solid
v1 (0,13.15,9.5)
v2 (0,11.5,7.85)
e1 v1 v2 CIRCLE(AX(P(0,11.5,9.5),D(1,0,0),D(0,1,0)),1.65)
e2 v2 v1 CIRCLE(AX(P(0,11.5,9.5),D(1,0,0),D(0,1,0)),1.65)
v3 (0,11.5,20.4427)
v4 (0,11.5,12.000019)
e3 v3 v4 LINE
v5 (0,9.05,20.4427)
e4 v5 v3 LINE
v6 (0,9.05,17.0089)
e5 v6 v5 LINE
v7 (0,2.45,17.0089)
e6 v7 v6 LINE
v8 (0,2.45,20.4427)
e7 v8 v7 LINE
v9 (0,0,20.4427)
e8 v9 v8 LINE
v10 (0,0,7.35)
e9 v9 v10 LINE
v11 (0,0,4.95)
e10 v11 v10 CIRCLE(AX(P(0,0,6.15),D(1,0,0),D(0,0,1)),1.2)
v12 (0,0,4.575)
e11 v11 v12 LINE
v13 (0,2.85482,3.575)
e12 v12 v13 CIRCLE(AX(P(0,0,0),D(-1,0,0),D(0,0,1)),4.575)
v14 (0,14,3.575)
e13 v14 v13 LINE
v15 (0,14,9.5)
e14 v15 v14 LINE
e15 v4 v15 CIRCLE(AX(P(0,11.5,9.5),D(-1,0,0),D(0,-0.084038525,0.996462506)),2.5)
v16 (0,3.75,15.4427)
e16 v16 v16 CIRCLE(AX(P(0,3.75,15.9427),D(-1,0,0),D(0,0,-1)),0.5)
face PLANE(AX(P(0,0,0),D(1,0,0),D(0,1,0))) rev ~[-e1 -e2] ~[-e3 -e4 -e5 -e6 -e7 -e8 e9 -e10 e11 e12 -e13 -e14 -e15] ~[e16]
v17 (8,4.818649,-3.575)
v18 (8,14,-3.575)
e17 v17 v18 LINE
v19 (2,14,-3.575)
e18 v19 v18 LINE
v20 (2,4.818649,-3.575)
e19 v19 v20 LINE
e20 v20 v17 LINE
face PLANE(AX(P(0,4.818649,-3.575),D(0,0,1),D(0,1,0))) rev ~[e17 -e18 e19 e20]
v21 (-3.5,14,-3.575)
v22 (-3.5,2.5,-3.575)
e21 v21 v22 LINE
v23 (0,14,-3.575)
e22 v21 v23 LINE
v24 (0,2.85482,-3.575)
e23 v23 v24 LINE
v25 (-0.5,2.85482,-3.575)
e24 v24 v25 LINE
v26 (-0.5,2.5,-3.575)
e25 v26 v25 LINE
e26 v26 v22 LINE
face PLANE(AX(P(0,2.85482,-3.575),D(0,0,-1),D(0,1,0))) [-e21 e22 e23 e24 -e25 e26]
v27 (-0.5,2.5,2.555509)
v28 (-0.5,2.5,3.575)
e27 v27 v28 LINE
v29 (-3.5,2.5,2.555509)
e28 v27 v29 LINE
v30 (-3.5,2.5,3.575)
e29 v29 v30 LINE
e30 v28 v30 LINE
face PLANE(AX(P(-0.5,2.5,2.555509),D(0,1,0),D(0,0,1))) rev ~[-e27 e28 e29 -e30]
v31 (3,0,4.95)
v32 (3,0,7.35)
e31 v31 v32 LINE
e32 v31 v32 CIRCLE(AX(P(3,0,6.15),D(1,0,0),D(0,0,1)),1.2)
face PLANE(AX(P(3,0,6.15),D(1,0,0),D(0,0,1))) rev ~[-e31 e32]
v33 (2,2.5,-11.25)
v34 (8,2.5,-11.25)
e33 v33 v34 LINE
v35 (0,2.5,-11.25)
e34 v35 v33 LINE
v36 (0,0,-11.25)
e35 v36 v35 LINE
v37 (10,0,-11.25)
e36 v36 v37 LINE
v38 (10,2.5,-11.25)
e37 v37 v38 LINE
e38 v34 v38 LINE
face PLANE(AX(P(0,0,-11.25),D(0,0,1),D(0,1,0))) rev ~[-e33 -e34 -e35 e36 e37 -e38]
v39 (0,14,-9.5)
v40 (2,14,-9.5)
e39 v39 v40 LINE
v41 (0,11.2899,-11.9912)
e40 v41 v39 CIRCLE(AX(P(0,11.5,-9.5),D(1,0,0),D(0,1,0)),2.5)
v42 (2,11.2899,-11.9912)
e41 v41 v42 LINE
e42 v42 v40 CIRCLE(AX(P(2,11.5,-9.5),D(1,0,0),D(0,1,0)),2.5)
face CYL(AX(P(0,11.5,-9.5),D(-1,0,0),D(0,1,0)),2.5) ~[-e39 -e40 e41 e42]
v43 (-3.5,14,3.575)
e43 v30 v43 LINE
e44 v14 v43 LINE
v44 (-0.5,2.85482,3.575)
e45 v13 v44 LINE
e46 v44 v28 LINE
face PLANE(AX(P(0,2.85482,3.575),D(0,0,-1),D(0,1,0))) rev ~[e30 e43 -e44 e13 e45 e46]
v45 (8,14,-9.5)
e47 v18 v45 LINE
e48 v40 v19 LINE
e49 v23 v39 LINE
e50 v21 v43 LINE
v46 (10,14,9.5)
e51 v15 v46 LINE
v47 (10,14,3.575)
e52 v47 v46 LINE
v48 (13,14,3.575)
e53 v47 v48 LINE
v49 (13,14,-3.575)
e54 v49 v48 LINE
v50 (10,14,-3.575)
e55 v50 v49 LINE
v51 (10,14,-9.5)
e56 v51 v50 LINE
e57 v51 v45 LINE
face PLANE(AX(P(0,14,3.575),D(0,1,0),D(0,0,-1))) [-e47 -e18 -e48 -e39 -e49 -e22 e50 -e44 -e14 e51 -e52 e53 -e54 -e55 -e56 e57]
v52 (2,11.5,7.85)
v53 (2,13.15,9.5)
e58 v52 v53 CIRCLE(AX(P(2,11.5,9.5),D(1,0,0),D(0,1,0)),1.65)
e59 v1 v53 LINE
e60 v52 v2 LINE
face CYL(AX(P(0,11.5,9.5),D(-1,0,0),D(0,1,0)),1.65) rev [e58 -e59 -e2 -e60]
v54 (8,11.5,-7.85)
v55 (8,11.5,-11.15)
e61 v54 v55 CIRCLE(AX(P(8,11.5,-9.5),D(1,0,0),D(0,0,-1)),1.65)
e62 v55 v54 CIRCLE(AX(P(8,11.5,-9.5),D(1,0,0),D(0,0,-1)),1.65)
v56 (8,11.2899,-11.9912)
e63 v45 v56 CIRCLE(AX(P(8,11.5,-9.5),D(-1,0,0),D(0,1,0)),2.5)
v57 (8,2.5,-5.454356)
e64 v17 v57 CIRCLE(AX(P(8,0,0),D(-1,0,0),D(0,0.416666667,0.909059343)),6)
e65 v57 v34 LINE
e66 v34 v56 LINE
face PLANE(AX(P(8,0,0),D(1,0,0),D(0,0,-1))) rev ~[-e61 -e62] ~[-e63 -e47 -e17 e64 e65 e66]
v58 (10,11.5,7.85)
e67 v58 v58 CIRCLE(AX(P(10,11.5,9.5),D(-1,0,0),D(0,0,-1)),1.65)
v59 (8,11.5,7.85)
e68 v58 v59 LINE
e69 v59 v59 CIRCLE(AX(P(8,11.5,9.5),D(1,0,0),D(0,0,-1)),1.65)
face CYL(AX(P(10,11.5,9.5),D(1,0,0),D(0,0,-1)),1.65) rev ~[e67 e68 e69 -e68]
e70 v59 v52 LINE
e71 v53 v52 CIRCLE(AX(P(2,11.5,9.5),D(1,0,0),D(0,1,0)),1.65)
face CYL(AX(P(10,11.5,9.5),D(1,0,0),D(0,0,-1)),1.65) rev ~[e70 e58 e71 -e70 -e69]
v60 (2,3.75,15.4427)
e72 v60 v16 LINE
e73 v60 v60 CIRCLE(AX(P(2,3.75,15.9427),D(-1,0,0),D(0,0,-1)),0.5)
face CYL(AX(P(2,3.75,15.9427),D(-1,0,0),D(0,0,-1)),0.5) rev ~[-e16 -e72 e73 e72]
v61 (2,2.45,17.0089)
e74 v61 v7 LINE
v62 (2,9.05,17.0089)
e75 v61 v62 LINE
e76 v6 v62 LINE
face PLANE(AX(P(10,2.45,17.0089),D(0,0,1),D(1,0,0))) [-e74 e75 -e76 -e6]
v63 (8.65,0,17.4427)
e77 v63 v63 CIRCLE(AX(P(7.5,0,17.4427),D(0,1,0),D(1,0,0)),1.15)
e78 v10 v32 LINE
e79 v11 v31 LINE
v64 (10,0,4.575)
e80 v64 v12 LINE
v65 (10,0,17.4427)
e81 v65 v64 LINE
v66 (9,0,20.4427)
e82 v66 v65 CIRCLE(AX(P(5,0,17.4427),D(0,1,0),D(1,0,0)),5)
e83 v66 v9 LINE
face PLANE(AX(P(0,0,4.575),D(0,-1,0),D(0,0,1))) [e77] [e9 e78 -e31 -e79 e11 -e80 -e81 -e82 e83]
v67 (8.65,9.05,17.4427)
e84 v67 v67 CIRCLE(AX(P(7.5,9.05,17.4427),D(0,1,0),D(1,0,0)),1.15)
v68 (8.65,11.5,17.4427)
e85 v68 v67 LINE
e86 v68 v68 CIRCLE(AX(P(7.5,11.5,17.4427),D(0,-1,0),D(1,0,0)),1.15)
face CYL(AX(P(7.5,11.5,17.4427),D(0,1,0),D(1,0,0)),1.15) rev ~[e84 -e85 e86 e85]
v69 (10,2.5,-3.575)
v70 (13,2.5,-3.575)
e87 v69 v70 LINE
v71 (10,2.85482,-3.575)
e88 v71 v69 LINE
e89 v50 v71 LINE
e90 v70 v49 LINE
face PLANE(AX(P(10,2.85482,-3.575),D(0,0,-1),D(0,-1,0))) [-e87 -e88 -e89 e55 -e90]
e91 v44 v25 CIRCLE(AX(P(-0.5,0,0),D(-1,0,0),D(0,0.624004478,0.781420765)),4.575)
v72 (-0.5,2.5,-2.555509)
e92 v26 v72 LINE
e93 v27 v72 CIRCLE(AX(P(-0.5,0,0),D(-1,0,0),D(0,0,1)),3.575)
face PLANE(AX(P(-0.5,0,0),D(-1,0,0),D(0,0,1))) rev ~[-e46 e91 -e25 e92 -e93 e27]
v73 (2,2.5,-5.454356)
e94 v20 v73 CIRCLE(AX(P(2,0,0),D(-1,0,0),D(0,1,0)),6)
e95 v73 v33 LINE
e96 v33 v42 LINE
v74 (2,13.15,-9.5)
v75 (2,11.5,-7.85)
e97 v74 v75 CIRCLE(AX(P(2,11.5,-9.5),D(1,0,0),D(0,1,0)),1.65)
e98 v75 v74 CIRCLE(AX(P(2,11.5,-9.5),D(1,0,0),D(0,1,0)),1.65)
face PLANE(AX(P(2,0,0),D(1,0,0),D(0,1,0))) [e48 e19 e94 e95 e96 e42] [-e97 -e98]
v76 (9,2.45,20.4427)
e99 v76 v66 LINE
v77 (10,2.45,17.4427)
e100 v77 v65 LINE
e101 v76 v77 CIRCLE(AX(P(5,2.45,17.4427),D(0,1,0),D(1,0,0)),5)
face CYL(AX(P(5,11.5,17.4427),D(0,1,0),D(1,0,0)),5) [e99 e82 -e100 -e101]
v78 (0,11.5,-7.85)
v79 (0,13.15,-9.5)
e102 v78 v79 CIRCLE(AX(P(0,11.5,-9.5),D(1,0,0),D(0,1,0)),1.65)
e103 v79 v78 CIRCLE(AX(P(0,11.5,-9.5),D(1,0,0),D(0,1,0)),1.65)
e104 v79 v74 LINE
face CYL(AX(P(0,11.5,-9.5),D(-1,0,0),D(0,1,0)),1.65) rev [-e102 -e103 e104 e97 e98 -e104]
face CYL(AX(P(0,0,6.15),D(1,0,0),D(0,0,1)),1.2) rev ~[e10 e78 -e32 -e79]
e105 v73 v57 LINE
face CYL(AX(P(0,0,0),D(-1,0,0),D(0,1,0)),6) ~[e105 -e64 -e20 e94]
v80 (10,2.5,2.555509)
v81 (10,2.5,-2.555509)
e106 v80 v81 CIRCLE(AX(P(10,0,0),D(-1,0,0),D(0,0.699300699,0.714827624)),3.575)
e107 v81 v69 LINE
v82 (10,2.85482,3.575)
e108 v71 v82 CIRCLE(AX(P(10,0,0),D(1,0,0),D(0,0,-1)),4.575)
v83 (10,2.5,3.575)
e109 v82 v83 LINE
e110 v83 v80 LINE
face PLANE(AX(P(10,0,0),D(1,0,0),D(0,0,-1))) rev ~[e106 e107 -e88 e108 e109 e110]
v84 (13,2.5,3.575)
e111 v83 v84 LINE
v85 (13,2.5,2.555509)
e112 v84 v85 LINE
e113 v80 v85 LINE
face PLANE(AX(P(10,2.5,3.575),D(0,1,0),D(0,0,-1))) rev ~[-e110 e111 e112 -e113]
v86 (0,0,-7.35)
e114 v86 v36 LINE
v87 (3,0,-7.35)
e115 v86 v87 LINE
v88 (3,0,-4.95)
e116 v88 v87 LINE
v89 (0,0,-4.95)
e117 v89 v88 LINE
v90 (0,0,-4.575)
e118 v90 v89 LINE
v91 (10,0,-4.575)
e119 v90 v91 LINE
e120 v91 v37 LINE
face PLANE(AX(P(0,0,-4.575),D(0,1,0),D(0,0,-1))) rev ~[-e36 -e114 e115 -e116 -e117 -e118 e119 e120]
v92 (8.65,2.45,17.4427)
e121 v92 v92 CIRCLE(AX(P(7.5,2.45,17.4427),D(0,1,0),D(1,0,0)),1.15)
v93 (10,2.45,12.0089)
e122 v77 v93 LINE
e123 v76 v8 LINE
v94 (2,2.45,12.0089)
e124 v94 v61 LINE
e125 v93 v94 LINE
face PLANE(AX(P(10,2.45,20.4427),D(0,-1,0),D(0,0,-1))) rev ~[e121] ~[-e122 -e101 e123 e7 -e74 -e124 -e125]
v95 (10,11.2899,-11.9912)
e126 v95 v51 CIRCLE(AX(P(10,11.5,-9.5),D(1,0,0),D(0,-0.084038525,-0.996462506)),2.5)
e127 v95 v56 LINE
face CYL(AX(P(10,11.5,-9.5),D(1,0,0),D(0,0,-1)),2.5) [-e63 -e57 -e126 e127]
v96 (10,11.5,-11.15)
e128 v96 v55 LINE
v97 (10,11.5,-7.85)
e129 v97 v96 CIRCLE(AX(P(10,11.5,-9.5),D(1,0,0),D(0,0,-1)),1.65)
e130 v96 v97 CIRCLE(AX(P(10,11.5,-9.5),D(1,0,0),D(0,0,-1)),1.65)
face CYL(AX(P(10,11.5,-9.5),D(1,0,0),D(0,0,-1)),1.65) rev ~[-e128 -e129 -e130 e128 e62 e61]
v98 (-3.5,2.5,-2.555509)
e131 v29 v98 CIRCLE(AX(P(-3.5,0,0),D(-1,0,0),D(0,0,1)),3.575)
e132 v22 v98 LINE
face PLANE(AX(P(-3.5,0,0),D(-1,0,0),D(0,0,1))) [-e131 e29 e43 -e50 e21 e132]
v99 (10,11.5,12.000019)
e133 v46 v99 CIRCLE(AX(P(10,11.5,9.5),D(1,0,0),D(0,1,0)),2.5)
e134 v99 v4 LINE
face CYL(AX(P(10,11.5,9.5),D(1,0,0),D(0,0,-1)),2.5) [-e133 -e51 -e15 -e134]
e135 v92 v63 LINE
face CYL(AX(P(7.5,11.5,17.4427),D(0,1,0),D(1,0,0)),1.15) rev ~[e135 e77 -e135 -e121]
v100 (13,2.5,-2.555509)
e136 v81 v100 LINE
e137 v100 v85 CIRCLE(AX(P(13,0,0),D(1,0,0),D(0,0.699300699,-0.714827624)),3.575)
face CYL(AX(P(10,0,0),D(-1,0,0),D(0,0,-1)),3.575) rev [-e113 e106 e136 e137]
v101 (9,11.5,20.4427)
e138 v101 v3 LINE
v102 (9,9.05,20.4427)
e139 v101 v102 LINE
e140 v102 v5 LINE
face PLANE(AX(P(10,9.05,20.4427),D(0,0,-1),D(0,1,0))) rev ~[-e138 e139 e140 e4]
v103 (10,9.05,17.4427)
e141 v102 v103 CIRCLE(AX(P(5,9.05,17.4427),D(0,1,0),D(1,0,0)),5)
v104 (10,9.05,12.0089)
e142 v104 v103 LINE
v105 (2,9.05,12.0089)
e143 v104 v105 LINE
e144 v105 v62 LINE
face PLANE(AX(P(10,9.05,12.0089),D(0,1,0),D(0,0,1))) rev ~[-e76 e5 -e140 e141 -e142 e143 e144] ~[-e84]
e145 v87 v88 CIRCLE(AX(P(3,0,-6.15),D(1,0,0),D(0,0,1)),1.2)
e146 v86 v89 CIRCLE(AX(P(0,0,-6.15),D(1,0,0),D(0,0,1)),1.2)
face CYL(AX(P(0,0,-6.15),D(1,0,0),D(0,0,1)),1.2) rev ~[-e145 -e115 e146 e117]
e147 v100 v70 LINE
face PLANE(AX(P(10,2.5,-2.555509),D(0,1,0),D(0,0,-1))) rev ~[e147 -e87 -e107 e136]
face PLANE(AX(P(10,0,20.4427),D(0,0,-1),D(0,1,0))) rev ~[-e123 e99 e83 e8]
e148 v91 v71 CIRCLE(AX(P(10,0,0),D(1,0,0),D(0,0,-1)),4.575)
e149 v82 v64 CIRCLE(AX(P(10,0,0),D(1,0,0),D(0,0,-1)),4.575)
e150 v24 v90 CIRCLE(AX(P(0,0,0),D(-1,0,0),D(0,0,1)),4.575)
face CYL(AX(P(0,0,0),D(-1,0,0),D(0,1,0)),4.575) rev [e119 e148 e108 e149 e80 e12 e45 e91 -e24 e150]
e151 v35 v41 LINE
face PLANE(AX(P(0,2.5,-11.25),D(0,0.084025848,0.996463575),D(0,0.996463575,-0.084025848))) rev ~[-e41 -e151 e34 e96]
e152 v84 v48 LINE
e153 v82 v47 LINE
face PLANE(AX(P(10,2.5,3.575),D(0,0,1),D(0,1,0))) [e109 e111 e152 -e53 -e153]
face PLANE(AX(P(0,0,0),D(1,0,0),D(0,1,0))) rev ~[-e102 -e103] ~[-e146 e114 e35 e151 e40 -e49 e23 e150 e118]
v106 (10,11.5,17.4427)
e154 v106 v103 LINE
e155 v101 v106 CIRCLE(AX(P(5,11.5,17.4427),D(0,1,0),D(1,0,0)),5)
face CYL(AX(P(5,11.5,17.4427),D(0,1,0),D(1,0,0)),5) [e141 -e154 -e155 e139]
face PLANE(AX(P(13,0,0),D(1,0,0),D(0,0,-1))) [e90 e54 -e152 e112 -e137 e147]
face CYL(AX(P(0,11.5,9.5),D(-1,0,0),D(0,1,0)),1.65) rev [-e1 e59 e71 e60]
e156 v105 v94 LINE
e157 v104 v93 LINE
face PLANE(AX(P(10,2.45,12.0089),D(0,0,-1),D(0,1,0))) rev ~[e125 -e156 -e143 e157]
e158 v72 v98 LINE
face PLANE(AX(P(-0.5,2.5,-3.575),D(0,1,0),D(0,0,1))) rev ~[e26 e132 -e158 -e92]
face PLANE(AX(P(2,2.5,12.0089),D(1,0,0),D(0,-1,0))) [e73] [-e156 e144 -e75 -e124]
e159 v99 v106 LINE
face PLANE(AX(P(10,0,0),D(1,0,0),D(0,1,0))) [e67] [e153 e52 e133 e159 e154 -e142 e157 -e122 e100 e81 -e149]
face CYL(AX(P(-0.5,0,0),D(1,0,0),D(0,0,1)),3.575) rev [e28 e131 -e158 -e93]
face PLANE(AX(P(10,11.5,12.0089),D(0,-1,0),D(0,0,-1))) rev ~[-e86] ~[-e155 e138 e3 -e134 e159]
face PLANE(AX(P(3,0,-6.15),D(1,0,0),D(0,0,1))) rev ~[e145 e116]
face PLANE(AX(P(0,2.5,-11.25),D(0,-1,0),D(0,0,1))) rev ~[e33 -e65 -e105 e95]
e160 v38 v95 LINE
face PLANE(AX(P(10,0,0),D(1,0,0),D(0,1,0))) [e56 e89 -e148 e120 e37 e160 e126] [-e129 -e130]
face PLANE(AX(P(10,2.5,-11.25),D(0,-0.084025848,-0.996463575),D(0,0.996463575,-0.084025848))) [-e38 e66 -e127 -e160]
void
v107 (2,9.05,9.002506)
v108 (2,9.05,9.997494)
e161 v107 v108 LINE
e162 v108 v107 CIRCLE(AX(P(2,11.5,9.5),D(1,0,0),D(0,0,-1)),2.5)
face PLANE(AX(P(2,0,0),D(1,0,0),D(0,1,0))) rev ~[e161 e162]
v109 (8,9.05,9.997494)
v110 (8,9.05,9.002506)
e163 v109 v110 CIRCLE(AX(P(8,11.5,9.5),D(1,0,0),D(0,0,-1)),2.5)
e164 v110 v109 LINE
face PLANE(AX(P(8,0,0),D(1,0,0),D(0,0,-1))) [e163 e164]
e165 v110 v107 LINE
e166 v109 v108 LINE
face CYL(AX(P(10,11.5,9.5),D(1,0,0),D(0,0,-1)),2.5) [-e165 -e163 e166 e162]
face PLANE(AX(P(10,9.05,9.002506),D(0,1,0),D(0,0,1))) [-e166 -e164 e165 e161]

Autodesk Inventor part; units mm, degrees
ref_plane "YZ Plane" through (0, 0, 0) normal (1, 0, 0) x (0, 1, 0)
ref_plane "XZ Plane" through (0, 0, 0) normal (0, 1, 0) x (-1, 0, 0)
ref_plane "XY Plane" through (0, 0, 0) normal (0, 0, 1) x (1, 0, 0)
sketch "スケッチ1" plane through (0, 0, 0) normal (1, 0, 0) x (0, 1, 0)
  circle A0 centre (0, 0) radius 4.575
  circle A1 centre (0, 0) radius 3.575
  line L0 (0, 0) -> (0, 6)
  line L1 (0, 6) -> (0, -6)
  line L2 (0, 0) -> (11.5, 0)
  line L3 (11.5, 0) -> (11.5, 9.5)
  line L4 (11.5, 9.5) -> (11.5, -9.5)
  circle A2 centre (11.5, 9.5) radius 1.65
  circle A3 centre (11.5, -9.5) radius 1.65
  line L5 (0, 0) -> (0, 11.25)
  line L6 (0, 11.25) -> (0, -11.25)
  line L7 (-2.5, -11.25) -> (2.5, -11.25)
  line L8 (2.5, -11.25) -> (2.5, 11.25)
  line L9 (2.5, 11.25) -> (-2.5, 11.25)
  line L10 (-2.5, 11.25) -> (-2.5, -11.25)
  line L11 (-2.5, -11.25) -> (2.5, 11.25) construction
  line L12 (2.5, -11.25) -> (-2.5, 11.25) construction
  circle A4 centre (11.5, 9.5) radius 2.5
  circle A5 centre (11.5, -9.5) radius 2.5
  line L13 (2.5, 11.25) -> (11.2899, 11.9912)
  line L14 (2.5, -11.25) -> (11.2899, -11.9912)
  line L15 (14, 9.5) -> (14, -9.5)
  line L16 (0, -3.575) -> (14, -3.575)
  line L17 (0, 3.575) -> (14, 3.575)
  circle A6 centre (0, 0) radius 6
  line L18 (0, 0) -> (0, 6.15)
  line L19 (0, 6.15) -> (0, -6.15)
  circle A7 centre (0, 6.15) radius 1.25
  circle A8 centre (0, -6.15) radius 1.25
  line L20 (0, 11.25) -> (11.5, 11.25)
  line L21 (11.5, 11.25) -> (11.5, 12)
  line L22 (11.5, 12) -> (0, 12)
  line L23 (0, 12) -> (0, 11.25)
  point P0 (0, 4.575)
  point P1 (0, -4.575)
  point P2 (2.5, 3.575)
  point P3 (2.5, 2.5555)
  point P4 (2.5, -2.5555)
  point P5 (2.5, -3.575)
  point P6 (0, 7.4)
  point P7 (0, 4.9)
  point P8 (0, -4.9)
  point P9 (0, -7.4)
  point P10 (2.5, 5.4544)
  point P11 (2.5, -5.4544)
  point P12 (4.8186, 3.575)
  point P13 (4.8186, -3.575)
  point P14 (2.8548, 3.575)
  point P15 (2.8548, -3.575)
  dimension "d0" = 9.15
  dimension "d1" = 7.15
  dimension "d2" = 6
  dimension "d3" = 12
  dimension "d6" = 11.5
  dimension "d7" = 9.5
  dimension "d8" = 19
  dimension "d9" = 3.3
  dimension "d10" = 3.3
  dimension "d11" = 11.25
  dimension "d12" = 22.5
  dimension "d13" = 5
  dimension "d14" = 5
  dimension "d15" = 5
  dimension "d28" = 12
  dimension "d29" = 6.15
  dimension "d30" = 12.3
  dimension "d31" = 2.5
  dimension "d32" = 2.5
  dimension "d89" = 11.5
extrude "押し出し7" add sketch "スケッチ1" along normal blind 2 contours L2 A6 L16 A0 | A0 L17 A6 L2 | A0 L8 A6 L17 | L16 A6 L8 A0 | A6 L17 L3 L2 | L2 L4 L16 A6 | A0 L0 A7 A6 L8 | A6 L8 L20 A4 L3 L17 | L8 A6 A8 L1 A0 | L16 L4 A5 L14 L8 A6 | L3 L17 L15 L16 L4 | A6 A7 L5 L9 L8 | L3 A4 L15 L17 | L8 L7 L6 A8 A6 | L16 L15 A5 L4 | L13 A4 L20 | A4 L20 L21 | A5 | A4 L21 L20
extrude "押し出し8" add sketch "スケッチ1" along normal blind 10 contours L2 A6 L16 A0 | A0 L17 A6 L2 | A0 L8 A6 L17 | L16 A6 L8 A0 | A6 L17 L3 L2 | L2 L4 L16 A6 | A0 L0 A7 A6 L8 | L8 A6 A8 L1 A0 | L3 L17 L15 L16 L4 | A6 A7 L5 L9 L8 | L8 L7 L6 A8 A6 | L0 A6 A7 | A6 L5 A7 | A8 A6 L1 | A8 L6 A6 picked at (0.2292, 5.6392) picked at (0.3961, 6.4211) picked at (0.2292, -5.6392) picked at (0.3961, -6.4211)
sketch "スケッチ6" plane through (10, 0, 0) normal (1, 0, 0) x (0, 0, -1)
  line L0 (0, 0) -> (-6.15, 0)
  line L1 (-6.15, 0) -> (6.15, 0)
  circle A0 centre (-6.15, 0) radius 1.25
  circle A1 centre (6.15, 0) radius 1.25
  line L2 (-11.25, 2.5) -> (11.25, 2.5)
  line L3 (11.25, 2.5) -> (11.25, -2.5)
  line L4 (11.25, -2.5) -> (-11.25, -2.5)
  line L5 (-11.25, -2.5) -> (-11.25, 2.5)
  line L6 (-11.25, 2.5) -> (11.25, -2.5) construction
  line L7 (11.25, 2.5) -> (-11.25, -2.5) construction
  line L8 (0, 0) -> (0, 11.5)
  line L9 (0, 11.5) -> (-9.5, 11.5)
  line L10 (-9.5, 11.5) -> (9.5, 11.5)
  circle A2 centre (-9.5, 11.5) radius 1.65
  circle A3 centre (-9.5, 11.5) radius 2.5
  circle A4 centre (9.5, 11.5) radius 1.65
  circle A5 centre (9.5, 11.5) radius 2.5
  circle A6 centre (0, 0) radius 6
  circle A7 centre (0, 0) radius 4.575
  arc A8 (11.9912, 11.2899) -> (9.5, 14) centre (9.5, 11.5) ccw projected
  line L11 (11.25, 2.5) -> (11.9912, 11.2899)
  line L12 (-11.9912, 11.2899) -> (-11.25, 2.5) projected
  line L13 (-11.25, 2.5) -> (-11.9912, 11.2899)
  line L14 (9.5, 14) -> (-9.5, 14) projected
  arc A9 (-9.5, 14) -> (-11.9912, 11.2899) centre (-9.5, 11.5) ccw projected
  line L15 (-9.5, 14) -> (9.5, 14)
  circle A10 centre (0, 0) radius 3.575
  line L16 (-3.575, 14) -> (-3.575, 4.8186) projected
  line L17 (3.575, -14) -> (-3.575, -14)
  line L18 (-3.575, -14) -> (-3.575, 14)
  line L19 (-3.575, 14) -> (3.575, 14)
  line L20 (3.575, 14) -> (3.575, -14)
  line L21 (3.575, -14) -> (-3.575, 14) construction
  line L22 (-3.575, -14) -> (3.575, 14) construction
  line L23 (-11.25, 0) -> (-12.0089, 0)
  line L24 (-12.0089, 0) -> (-12.0089, 11.5)
  line L25 (-12.0089, 11.5) -> (-11.25, 11.5)
  line L26 (-11.25, 11.5) -> (-11.25, 0)
  line L27 (-12.0089, 0) -> (-12.0089, 5.75)
  line L28 (-20.4427, 2.45) -> (-3.575, 2.45)
  line L29 (-3.575, 2.45) -> (-3.575, 9.05)
  line L30 (-3.575, 9.05) -> (-20.4427, 9.05)
  line L31 (-20.4427, 9.05) -> (-20.4427, 2.45)
  line L32 (-20.4427, 2.45) -> (-3.575, 9.05) construction
  line L33 (-3.575, 2.45) -> (-20.4427, 9.05) construction
  line L34 (-3.575, 0) -> (-20.4427, 0)
  line L35 (-20.4427, 0) -> (-20.4427, 11.5)
  line L36 (-20.4427, 11.5) -> (-3.575, 11.5)
  line L37 (-3.575, 11.5) -> (-3.575, 0)
  line L38 (-3.575, 0) -> (-20.4427, 11.5) construction
  line L39 (-20.4427, 0) -> (-3.575, 11.5) construction
  point P0 (-5.4544, 2.5)
  point P1 (5.4544, 2.5)
  point P2 (7, 11.5)
  point P3 (-7, 11.5)
  point P4 (-3.575, 11.5)
  point P5 (-3.575, 4.8186)
  point P6 (-3.575, 2.5)
  point P7 (-2.5555, 2.5)
  point P8 (2.5555, 2.5)
  point P9 (3.575, 2.5)
  point P10 (3.575, 11.5)
  point P11 (-9.9975, 9.05)
  point P12 (-9.0025, 9.05)
  point P13 (-12, 11.5)
  point P14 (-12.0089, 9.05)
  point P15 (-12.0089, 2.45)
  dimension "d69" = 12
  dimension "d56" = 6.15
  dimension "d57" = 12.3
  dimension "d58" = 2.5
  dimension "d59" = 2.5
  dimension "d62" = 11.5
  dimension "d63" = 9.5
  dimension "d64" = 19
  dimension "d65" = 3.3
  dimension "d66" = 5
  dimension "d67" = 3.3
  dimension "d68" = 5
  dimension "d70" = 9.15
  dimension "d79" = 7.15
  dimension "d90" = 5.75
  dimension "d91" = 6.6
extrude "押し出し9" add sketch "スケッチ6" against normal blind 2 contours A6 L20 L10 A5 L11 L2 | A6 L8 L10 L20 | A6 L16 L9 L8 | L2 L26 L30 A3 L16 A6 | L20 L14 A5 L10 | L10 L9 L16 L14 L20 | L12 L30 L26 | L30 A3 L9 L16 | A5 | L9 A3 L14 L16 | L12 A3 L26 L30 | L26 A3 L30 | L30 A3 L26 L36 A2 L9 | A3 L30 | L9 A2 L36 L25 A3 | A3 L25 L26
extrude "押し出し10" add sketch "スケッチ1" against normal blind 0.5 contours L2 A6 L16 A0 | A0 L17 A6 L2 | A6 L17 L3 L2 | L2 L4 L16 A6 | L3 L17 L15 L16 L4
sketch "スケッチ7" plane through (-0.5, 0, 0) normal (-1, 0, 0) x (0, 0, 1)
  circle A0 centre (0, 0) radius 3.575
  line L0 (-9.5, 14) -> (9.5, 14) projected
  line L1 (-3.575, 14) -> (3.575, 14)
  circle A1 centre (0, 0) radius 4.575
  line L2 (-11.25, 0) -> (-11.25, 2.5) projected
  line L3 (11.25, -2.5) -> (-11.25, -2.5)
  line L4 (-11.25, -2.5) -> (-11.25, 2.5)
  line L5 (-11.25, 2.5) -> (11.25, 2.5)
  line L6 (11.25, 2.5) -> (11.25, -2.5)
  line L7 (11.25, -2.5) -> (-11.25, 2.5) construction
  line L8 (-11.25, -2.5) -> (11.25, 2.5) construction
  line L9 (-3.575, 14) -> (-3.575, 0)
  line L10 (3.575, 14) -> (3.575, 0)
  point P0 (-3.575, 2.5)
  point P1 (-2.5555, 2.5)
  point P2 (2.5555, 2.5)
  point P3 (3.575, 2.5)
  dimension "d75" = 7.15
  dimension "d76" = 5
extrude "押し出し11" add sketch "スケッチ7" along normal blind 3 contours A0 L5 L9 A1 L10 | A1 L9 L0 L10
extrude "押し出し12" add sketch "スケッチ6" along normal blind 3 contours L2 L18 A7 L8 A10 | A10 L8 A7 L20 L2 | A7 L8 A6 L20 | A7 L18 A6 L8 | A6 L8 L10 L20 | A6 L16 L9 L8 | L10 L9 L16 L14 L20
hole "穴1" at (0, 0, -6.15) at (0, 0, 6.15) direction (1, 0, 0) diameter 2.4 depth 3
sketch "スケッチ8" plane through (0, 11.2899, 11.9912) normal (0, -0.084, 0.9965) x (1, 0, 0)
  point P0 (0, -12.2575)
extrude "押し出し13" add sketch "スケッチ6" against normal blind 10 contours L2 L26 L30 A3 L16 A6 | L28 L24 L30 L12 L5 | L5 L23 L24 L28 | L12 L30 L26 | L24 L34 L35 L28 | L30 A3 L9 L16 | L9 A3 L14 L16 | L30 L24 L25 A3 L12 | L12 A3 L26 L30 | L26 A3 L30 | L30 A3 L26 L36 A2 L9 | L9 A2 L36 L25 A3 | A3 L25 L26 | L30 L35 L36 L24
sketch "スケッチ9" plane through (10, 11.5, 20.4427) normal (0, 1, 0) x (1, 0, 0)
  line L0 (-10, 8.4427) -> (0, 8.4427) projected
  line L1 (0, 8.4427) -> (-5, 8.4427)
  line L2 (0, 0) -> (-10, 0) projected
  line L3 (-5, 0) -> (-5, 3)
  circle A0 centre (-5, 3) radius 1.15
  circle A1 centre (-5, 3) radius 5
  line L4 (0, 8.4427) -> (0, 0) projected
  line L5 (0, -2.4427) -> (-10, -2.4427)
  line L6 (-10, -2.4427) -> (-10, 8.4427)
  line L7 (-10, 8.4427) -> (0, 8.4427)
  line L8 (0, 8.4427) -> (0, -2.4427)
  line L9 (0, -2.4427) -> (-10, 8.4427) construction
  line L10 (-10, -2.4427) -> (0, 8.4427) construction
  line L11 (0, 0) -> (-10, 0) projected
  line L12 (-10, 0) -> (0, 0)
  line L13 (-10, 0) -> (-10, 8.4427) projected
  line L14 (-10, 3) -> (-7, 3)
  circle A2 centre (-7, 3) radius 1.15
  line L15 (-5, 3) -> (-2.5, 3)
  circle A3 centre (-2.5, 3) radius 1.15
  point P0 (-10, 20.4427)
  point P1 (0, 3)
  point P2 (-1, 0)
  point P3 (-9, 0)
  dimension "d94" = 3
  dimension "d95" = 2.3
  dimension "d98" = 3
  dimension "d99" = 2.3
  dimension "d100" = 2.3
extrude "押し出し14" cut sketch "スケッチ9" against normal blind 11.5 contours A3 | L4 L2 A1
sketch "スケッチ10" plane through (10, 2.45, 12.0089) normal (0, 0, 1) x (1, 0, 0)
  point P0 (-10, -2.45)
sketch "スケッチ11" plane through (10, 2.45, 12.0089) normal (0, 0, 1) x (1, 0, 0)
  line L0 (-10, 0) -> (-10, 6.6) projected
  line L1 (0, 0) -> (-10, 0) projected
  line L2 (-10, 6.6) -> (-7.6825, 6.6)
  line L3 (-7.6825, 6.6) -> (-7.6825, 0)
  line L4 (-7.6825, 0) -> (-10, 0)
  line L5 (-10, 0) -> (-10, 6.6)
  line L6 (-8, 0.05) -> (-8, 8.8399) projected
  line L7 (-10, 6.6) -> (-8, 6.6)
  line L8 (-8, 6.6) -> (-8, 0.05)
  line L9 (-8, 0.05) -> (-10, 0.05)
  line L10 (-10, 0.05) -> (-10, 6.6)
  line L11 (-10, 0.05) -> (-8, 0.05)
  line L12 (-8, 0.05) -> (-8, 0)
  line L13 (-8, 0) -> (-10, 0)
  line L14 (-10, 0) -> (-10, 0.05)
  point P0 (-10, -2.45)
extrude "押し出し15" add sketch "スケッチ11" along normal blind 5 contours L0 L9 L12 L1 | L0 L2 L6 L9
sketch "スケッチ12" plane through (2, 2.45, 12.0089) normal (1, 0, 0) x (0, 0, -1)
  line L0 (0, 0) -> (-5, 0) projected
  line L1 (-8.4339, 6.6) -> (-8.4339, 9.05) projected
  line L2 (0, 0) -> (-8.4339, 0)
  line L3 (-8.4339, 0) -> (-8.4339, 9.05)
  line L4 (-8.4339, 9.05) -> (0, 9.05)
  line L5 (0, 9.05) -> (0, 0)
  line L6 (-8.4339, 0) -> (-5, 0) projected
  line L7 (-8.4339, 0) -> (-3.9339, 0)
  line L8 (-3.9339, 0) -> (-3.9339, 2.6858)
  line L9 (-3.9339, 2.6858) -> (-8.4339, 2.6858)
  line L10 (-8.4339, 2.6858) -> (-8.4339, 0)
  line L11 (-3.9339, 0) -> (-3.9339, 3.3)
  line L12 (-3.9339, 3.3) -> (-3.9339, 1.3)
  point P0 (12.0089, -2.45)
  dimension "d103" = 4.5
  dimension "d104" = 3.3
  dimension "d105" = 2
hole "穴2" at (2, 3.75, 15.9427) direction (-1, 0, 0) diameter 1 depth 8
properties part number "ikafly5.0d"
